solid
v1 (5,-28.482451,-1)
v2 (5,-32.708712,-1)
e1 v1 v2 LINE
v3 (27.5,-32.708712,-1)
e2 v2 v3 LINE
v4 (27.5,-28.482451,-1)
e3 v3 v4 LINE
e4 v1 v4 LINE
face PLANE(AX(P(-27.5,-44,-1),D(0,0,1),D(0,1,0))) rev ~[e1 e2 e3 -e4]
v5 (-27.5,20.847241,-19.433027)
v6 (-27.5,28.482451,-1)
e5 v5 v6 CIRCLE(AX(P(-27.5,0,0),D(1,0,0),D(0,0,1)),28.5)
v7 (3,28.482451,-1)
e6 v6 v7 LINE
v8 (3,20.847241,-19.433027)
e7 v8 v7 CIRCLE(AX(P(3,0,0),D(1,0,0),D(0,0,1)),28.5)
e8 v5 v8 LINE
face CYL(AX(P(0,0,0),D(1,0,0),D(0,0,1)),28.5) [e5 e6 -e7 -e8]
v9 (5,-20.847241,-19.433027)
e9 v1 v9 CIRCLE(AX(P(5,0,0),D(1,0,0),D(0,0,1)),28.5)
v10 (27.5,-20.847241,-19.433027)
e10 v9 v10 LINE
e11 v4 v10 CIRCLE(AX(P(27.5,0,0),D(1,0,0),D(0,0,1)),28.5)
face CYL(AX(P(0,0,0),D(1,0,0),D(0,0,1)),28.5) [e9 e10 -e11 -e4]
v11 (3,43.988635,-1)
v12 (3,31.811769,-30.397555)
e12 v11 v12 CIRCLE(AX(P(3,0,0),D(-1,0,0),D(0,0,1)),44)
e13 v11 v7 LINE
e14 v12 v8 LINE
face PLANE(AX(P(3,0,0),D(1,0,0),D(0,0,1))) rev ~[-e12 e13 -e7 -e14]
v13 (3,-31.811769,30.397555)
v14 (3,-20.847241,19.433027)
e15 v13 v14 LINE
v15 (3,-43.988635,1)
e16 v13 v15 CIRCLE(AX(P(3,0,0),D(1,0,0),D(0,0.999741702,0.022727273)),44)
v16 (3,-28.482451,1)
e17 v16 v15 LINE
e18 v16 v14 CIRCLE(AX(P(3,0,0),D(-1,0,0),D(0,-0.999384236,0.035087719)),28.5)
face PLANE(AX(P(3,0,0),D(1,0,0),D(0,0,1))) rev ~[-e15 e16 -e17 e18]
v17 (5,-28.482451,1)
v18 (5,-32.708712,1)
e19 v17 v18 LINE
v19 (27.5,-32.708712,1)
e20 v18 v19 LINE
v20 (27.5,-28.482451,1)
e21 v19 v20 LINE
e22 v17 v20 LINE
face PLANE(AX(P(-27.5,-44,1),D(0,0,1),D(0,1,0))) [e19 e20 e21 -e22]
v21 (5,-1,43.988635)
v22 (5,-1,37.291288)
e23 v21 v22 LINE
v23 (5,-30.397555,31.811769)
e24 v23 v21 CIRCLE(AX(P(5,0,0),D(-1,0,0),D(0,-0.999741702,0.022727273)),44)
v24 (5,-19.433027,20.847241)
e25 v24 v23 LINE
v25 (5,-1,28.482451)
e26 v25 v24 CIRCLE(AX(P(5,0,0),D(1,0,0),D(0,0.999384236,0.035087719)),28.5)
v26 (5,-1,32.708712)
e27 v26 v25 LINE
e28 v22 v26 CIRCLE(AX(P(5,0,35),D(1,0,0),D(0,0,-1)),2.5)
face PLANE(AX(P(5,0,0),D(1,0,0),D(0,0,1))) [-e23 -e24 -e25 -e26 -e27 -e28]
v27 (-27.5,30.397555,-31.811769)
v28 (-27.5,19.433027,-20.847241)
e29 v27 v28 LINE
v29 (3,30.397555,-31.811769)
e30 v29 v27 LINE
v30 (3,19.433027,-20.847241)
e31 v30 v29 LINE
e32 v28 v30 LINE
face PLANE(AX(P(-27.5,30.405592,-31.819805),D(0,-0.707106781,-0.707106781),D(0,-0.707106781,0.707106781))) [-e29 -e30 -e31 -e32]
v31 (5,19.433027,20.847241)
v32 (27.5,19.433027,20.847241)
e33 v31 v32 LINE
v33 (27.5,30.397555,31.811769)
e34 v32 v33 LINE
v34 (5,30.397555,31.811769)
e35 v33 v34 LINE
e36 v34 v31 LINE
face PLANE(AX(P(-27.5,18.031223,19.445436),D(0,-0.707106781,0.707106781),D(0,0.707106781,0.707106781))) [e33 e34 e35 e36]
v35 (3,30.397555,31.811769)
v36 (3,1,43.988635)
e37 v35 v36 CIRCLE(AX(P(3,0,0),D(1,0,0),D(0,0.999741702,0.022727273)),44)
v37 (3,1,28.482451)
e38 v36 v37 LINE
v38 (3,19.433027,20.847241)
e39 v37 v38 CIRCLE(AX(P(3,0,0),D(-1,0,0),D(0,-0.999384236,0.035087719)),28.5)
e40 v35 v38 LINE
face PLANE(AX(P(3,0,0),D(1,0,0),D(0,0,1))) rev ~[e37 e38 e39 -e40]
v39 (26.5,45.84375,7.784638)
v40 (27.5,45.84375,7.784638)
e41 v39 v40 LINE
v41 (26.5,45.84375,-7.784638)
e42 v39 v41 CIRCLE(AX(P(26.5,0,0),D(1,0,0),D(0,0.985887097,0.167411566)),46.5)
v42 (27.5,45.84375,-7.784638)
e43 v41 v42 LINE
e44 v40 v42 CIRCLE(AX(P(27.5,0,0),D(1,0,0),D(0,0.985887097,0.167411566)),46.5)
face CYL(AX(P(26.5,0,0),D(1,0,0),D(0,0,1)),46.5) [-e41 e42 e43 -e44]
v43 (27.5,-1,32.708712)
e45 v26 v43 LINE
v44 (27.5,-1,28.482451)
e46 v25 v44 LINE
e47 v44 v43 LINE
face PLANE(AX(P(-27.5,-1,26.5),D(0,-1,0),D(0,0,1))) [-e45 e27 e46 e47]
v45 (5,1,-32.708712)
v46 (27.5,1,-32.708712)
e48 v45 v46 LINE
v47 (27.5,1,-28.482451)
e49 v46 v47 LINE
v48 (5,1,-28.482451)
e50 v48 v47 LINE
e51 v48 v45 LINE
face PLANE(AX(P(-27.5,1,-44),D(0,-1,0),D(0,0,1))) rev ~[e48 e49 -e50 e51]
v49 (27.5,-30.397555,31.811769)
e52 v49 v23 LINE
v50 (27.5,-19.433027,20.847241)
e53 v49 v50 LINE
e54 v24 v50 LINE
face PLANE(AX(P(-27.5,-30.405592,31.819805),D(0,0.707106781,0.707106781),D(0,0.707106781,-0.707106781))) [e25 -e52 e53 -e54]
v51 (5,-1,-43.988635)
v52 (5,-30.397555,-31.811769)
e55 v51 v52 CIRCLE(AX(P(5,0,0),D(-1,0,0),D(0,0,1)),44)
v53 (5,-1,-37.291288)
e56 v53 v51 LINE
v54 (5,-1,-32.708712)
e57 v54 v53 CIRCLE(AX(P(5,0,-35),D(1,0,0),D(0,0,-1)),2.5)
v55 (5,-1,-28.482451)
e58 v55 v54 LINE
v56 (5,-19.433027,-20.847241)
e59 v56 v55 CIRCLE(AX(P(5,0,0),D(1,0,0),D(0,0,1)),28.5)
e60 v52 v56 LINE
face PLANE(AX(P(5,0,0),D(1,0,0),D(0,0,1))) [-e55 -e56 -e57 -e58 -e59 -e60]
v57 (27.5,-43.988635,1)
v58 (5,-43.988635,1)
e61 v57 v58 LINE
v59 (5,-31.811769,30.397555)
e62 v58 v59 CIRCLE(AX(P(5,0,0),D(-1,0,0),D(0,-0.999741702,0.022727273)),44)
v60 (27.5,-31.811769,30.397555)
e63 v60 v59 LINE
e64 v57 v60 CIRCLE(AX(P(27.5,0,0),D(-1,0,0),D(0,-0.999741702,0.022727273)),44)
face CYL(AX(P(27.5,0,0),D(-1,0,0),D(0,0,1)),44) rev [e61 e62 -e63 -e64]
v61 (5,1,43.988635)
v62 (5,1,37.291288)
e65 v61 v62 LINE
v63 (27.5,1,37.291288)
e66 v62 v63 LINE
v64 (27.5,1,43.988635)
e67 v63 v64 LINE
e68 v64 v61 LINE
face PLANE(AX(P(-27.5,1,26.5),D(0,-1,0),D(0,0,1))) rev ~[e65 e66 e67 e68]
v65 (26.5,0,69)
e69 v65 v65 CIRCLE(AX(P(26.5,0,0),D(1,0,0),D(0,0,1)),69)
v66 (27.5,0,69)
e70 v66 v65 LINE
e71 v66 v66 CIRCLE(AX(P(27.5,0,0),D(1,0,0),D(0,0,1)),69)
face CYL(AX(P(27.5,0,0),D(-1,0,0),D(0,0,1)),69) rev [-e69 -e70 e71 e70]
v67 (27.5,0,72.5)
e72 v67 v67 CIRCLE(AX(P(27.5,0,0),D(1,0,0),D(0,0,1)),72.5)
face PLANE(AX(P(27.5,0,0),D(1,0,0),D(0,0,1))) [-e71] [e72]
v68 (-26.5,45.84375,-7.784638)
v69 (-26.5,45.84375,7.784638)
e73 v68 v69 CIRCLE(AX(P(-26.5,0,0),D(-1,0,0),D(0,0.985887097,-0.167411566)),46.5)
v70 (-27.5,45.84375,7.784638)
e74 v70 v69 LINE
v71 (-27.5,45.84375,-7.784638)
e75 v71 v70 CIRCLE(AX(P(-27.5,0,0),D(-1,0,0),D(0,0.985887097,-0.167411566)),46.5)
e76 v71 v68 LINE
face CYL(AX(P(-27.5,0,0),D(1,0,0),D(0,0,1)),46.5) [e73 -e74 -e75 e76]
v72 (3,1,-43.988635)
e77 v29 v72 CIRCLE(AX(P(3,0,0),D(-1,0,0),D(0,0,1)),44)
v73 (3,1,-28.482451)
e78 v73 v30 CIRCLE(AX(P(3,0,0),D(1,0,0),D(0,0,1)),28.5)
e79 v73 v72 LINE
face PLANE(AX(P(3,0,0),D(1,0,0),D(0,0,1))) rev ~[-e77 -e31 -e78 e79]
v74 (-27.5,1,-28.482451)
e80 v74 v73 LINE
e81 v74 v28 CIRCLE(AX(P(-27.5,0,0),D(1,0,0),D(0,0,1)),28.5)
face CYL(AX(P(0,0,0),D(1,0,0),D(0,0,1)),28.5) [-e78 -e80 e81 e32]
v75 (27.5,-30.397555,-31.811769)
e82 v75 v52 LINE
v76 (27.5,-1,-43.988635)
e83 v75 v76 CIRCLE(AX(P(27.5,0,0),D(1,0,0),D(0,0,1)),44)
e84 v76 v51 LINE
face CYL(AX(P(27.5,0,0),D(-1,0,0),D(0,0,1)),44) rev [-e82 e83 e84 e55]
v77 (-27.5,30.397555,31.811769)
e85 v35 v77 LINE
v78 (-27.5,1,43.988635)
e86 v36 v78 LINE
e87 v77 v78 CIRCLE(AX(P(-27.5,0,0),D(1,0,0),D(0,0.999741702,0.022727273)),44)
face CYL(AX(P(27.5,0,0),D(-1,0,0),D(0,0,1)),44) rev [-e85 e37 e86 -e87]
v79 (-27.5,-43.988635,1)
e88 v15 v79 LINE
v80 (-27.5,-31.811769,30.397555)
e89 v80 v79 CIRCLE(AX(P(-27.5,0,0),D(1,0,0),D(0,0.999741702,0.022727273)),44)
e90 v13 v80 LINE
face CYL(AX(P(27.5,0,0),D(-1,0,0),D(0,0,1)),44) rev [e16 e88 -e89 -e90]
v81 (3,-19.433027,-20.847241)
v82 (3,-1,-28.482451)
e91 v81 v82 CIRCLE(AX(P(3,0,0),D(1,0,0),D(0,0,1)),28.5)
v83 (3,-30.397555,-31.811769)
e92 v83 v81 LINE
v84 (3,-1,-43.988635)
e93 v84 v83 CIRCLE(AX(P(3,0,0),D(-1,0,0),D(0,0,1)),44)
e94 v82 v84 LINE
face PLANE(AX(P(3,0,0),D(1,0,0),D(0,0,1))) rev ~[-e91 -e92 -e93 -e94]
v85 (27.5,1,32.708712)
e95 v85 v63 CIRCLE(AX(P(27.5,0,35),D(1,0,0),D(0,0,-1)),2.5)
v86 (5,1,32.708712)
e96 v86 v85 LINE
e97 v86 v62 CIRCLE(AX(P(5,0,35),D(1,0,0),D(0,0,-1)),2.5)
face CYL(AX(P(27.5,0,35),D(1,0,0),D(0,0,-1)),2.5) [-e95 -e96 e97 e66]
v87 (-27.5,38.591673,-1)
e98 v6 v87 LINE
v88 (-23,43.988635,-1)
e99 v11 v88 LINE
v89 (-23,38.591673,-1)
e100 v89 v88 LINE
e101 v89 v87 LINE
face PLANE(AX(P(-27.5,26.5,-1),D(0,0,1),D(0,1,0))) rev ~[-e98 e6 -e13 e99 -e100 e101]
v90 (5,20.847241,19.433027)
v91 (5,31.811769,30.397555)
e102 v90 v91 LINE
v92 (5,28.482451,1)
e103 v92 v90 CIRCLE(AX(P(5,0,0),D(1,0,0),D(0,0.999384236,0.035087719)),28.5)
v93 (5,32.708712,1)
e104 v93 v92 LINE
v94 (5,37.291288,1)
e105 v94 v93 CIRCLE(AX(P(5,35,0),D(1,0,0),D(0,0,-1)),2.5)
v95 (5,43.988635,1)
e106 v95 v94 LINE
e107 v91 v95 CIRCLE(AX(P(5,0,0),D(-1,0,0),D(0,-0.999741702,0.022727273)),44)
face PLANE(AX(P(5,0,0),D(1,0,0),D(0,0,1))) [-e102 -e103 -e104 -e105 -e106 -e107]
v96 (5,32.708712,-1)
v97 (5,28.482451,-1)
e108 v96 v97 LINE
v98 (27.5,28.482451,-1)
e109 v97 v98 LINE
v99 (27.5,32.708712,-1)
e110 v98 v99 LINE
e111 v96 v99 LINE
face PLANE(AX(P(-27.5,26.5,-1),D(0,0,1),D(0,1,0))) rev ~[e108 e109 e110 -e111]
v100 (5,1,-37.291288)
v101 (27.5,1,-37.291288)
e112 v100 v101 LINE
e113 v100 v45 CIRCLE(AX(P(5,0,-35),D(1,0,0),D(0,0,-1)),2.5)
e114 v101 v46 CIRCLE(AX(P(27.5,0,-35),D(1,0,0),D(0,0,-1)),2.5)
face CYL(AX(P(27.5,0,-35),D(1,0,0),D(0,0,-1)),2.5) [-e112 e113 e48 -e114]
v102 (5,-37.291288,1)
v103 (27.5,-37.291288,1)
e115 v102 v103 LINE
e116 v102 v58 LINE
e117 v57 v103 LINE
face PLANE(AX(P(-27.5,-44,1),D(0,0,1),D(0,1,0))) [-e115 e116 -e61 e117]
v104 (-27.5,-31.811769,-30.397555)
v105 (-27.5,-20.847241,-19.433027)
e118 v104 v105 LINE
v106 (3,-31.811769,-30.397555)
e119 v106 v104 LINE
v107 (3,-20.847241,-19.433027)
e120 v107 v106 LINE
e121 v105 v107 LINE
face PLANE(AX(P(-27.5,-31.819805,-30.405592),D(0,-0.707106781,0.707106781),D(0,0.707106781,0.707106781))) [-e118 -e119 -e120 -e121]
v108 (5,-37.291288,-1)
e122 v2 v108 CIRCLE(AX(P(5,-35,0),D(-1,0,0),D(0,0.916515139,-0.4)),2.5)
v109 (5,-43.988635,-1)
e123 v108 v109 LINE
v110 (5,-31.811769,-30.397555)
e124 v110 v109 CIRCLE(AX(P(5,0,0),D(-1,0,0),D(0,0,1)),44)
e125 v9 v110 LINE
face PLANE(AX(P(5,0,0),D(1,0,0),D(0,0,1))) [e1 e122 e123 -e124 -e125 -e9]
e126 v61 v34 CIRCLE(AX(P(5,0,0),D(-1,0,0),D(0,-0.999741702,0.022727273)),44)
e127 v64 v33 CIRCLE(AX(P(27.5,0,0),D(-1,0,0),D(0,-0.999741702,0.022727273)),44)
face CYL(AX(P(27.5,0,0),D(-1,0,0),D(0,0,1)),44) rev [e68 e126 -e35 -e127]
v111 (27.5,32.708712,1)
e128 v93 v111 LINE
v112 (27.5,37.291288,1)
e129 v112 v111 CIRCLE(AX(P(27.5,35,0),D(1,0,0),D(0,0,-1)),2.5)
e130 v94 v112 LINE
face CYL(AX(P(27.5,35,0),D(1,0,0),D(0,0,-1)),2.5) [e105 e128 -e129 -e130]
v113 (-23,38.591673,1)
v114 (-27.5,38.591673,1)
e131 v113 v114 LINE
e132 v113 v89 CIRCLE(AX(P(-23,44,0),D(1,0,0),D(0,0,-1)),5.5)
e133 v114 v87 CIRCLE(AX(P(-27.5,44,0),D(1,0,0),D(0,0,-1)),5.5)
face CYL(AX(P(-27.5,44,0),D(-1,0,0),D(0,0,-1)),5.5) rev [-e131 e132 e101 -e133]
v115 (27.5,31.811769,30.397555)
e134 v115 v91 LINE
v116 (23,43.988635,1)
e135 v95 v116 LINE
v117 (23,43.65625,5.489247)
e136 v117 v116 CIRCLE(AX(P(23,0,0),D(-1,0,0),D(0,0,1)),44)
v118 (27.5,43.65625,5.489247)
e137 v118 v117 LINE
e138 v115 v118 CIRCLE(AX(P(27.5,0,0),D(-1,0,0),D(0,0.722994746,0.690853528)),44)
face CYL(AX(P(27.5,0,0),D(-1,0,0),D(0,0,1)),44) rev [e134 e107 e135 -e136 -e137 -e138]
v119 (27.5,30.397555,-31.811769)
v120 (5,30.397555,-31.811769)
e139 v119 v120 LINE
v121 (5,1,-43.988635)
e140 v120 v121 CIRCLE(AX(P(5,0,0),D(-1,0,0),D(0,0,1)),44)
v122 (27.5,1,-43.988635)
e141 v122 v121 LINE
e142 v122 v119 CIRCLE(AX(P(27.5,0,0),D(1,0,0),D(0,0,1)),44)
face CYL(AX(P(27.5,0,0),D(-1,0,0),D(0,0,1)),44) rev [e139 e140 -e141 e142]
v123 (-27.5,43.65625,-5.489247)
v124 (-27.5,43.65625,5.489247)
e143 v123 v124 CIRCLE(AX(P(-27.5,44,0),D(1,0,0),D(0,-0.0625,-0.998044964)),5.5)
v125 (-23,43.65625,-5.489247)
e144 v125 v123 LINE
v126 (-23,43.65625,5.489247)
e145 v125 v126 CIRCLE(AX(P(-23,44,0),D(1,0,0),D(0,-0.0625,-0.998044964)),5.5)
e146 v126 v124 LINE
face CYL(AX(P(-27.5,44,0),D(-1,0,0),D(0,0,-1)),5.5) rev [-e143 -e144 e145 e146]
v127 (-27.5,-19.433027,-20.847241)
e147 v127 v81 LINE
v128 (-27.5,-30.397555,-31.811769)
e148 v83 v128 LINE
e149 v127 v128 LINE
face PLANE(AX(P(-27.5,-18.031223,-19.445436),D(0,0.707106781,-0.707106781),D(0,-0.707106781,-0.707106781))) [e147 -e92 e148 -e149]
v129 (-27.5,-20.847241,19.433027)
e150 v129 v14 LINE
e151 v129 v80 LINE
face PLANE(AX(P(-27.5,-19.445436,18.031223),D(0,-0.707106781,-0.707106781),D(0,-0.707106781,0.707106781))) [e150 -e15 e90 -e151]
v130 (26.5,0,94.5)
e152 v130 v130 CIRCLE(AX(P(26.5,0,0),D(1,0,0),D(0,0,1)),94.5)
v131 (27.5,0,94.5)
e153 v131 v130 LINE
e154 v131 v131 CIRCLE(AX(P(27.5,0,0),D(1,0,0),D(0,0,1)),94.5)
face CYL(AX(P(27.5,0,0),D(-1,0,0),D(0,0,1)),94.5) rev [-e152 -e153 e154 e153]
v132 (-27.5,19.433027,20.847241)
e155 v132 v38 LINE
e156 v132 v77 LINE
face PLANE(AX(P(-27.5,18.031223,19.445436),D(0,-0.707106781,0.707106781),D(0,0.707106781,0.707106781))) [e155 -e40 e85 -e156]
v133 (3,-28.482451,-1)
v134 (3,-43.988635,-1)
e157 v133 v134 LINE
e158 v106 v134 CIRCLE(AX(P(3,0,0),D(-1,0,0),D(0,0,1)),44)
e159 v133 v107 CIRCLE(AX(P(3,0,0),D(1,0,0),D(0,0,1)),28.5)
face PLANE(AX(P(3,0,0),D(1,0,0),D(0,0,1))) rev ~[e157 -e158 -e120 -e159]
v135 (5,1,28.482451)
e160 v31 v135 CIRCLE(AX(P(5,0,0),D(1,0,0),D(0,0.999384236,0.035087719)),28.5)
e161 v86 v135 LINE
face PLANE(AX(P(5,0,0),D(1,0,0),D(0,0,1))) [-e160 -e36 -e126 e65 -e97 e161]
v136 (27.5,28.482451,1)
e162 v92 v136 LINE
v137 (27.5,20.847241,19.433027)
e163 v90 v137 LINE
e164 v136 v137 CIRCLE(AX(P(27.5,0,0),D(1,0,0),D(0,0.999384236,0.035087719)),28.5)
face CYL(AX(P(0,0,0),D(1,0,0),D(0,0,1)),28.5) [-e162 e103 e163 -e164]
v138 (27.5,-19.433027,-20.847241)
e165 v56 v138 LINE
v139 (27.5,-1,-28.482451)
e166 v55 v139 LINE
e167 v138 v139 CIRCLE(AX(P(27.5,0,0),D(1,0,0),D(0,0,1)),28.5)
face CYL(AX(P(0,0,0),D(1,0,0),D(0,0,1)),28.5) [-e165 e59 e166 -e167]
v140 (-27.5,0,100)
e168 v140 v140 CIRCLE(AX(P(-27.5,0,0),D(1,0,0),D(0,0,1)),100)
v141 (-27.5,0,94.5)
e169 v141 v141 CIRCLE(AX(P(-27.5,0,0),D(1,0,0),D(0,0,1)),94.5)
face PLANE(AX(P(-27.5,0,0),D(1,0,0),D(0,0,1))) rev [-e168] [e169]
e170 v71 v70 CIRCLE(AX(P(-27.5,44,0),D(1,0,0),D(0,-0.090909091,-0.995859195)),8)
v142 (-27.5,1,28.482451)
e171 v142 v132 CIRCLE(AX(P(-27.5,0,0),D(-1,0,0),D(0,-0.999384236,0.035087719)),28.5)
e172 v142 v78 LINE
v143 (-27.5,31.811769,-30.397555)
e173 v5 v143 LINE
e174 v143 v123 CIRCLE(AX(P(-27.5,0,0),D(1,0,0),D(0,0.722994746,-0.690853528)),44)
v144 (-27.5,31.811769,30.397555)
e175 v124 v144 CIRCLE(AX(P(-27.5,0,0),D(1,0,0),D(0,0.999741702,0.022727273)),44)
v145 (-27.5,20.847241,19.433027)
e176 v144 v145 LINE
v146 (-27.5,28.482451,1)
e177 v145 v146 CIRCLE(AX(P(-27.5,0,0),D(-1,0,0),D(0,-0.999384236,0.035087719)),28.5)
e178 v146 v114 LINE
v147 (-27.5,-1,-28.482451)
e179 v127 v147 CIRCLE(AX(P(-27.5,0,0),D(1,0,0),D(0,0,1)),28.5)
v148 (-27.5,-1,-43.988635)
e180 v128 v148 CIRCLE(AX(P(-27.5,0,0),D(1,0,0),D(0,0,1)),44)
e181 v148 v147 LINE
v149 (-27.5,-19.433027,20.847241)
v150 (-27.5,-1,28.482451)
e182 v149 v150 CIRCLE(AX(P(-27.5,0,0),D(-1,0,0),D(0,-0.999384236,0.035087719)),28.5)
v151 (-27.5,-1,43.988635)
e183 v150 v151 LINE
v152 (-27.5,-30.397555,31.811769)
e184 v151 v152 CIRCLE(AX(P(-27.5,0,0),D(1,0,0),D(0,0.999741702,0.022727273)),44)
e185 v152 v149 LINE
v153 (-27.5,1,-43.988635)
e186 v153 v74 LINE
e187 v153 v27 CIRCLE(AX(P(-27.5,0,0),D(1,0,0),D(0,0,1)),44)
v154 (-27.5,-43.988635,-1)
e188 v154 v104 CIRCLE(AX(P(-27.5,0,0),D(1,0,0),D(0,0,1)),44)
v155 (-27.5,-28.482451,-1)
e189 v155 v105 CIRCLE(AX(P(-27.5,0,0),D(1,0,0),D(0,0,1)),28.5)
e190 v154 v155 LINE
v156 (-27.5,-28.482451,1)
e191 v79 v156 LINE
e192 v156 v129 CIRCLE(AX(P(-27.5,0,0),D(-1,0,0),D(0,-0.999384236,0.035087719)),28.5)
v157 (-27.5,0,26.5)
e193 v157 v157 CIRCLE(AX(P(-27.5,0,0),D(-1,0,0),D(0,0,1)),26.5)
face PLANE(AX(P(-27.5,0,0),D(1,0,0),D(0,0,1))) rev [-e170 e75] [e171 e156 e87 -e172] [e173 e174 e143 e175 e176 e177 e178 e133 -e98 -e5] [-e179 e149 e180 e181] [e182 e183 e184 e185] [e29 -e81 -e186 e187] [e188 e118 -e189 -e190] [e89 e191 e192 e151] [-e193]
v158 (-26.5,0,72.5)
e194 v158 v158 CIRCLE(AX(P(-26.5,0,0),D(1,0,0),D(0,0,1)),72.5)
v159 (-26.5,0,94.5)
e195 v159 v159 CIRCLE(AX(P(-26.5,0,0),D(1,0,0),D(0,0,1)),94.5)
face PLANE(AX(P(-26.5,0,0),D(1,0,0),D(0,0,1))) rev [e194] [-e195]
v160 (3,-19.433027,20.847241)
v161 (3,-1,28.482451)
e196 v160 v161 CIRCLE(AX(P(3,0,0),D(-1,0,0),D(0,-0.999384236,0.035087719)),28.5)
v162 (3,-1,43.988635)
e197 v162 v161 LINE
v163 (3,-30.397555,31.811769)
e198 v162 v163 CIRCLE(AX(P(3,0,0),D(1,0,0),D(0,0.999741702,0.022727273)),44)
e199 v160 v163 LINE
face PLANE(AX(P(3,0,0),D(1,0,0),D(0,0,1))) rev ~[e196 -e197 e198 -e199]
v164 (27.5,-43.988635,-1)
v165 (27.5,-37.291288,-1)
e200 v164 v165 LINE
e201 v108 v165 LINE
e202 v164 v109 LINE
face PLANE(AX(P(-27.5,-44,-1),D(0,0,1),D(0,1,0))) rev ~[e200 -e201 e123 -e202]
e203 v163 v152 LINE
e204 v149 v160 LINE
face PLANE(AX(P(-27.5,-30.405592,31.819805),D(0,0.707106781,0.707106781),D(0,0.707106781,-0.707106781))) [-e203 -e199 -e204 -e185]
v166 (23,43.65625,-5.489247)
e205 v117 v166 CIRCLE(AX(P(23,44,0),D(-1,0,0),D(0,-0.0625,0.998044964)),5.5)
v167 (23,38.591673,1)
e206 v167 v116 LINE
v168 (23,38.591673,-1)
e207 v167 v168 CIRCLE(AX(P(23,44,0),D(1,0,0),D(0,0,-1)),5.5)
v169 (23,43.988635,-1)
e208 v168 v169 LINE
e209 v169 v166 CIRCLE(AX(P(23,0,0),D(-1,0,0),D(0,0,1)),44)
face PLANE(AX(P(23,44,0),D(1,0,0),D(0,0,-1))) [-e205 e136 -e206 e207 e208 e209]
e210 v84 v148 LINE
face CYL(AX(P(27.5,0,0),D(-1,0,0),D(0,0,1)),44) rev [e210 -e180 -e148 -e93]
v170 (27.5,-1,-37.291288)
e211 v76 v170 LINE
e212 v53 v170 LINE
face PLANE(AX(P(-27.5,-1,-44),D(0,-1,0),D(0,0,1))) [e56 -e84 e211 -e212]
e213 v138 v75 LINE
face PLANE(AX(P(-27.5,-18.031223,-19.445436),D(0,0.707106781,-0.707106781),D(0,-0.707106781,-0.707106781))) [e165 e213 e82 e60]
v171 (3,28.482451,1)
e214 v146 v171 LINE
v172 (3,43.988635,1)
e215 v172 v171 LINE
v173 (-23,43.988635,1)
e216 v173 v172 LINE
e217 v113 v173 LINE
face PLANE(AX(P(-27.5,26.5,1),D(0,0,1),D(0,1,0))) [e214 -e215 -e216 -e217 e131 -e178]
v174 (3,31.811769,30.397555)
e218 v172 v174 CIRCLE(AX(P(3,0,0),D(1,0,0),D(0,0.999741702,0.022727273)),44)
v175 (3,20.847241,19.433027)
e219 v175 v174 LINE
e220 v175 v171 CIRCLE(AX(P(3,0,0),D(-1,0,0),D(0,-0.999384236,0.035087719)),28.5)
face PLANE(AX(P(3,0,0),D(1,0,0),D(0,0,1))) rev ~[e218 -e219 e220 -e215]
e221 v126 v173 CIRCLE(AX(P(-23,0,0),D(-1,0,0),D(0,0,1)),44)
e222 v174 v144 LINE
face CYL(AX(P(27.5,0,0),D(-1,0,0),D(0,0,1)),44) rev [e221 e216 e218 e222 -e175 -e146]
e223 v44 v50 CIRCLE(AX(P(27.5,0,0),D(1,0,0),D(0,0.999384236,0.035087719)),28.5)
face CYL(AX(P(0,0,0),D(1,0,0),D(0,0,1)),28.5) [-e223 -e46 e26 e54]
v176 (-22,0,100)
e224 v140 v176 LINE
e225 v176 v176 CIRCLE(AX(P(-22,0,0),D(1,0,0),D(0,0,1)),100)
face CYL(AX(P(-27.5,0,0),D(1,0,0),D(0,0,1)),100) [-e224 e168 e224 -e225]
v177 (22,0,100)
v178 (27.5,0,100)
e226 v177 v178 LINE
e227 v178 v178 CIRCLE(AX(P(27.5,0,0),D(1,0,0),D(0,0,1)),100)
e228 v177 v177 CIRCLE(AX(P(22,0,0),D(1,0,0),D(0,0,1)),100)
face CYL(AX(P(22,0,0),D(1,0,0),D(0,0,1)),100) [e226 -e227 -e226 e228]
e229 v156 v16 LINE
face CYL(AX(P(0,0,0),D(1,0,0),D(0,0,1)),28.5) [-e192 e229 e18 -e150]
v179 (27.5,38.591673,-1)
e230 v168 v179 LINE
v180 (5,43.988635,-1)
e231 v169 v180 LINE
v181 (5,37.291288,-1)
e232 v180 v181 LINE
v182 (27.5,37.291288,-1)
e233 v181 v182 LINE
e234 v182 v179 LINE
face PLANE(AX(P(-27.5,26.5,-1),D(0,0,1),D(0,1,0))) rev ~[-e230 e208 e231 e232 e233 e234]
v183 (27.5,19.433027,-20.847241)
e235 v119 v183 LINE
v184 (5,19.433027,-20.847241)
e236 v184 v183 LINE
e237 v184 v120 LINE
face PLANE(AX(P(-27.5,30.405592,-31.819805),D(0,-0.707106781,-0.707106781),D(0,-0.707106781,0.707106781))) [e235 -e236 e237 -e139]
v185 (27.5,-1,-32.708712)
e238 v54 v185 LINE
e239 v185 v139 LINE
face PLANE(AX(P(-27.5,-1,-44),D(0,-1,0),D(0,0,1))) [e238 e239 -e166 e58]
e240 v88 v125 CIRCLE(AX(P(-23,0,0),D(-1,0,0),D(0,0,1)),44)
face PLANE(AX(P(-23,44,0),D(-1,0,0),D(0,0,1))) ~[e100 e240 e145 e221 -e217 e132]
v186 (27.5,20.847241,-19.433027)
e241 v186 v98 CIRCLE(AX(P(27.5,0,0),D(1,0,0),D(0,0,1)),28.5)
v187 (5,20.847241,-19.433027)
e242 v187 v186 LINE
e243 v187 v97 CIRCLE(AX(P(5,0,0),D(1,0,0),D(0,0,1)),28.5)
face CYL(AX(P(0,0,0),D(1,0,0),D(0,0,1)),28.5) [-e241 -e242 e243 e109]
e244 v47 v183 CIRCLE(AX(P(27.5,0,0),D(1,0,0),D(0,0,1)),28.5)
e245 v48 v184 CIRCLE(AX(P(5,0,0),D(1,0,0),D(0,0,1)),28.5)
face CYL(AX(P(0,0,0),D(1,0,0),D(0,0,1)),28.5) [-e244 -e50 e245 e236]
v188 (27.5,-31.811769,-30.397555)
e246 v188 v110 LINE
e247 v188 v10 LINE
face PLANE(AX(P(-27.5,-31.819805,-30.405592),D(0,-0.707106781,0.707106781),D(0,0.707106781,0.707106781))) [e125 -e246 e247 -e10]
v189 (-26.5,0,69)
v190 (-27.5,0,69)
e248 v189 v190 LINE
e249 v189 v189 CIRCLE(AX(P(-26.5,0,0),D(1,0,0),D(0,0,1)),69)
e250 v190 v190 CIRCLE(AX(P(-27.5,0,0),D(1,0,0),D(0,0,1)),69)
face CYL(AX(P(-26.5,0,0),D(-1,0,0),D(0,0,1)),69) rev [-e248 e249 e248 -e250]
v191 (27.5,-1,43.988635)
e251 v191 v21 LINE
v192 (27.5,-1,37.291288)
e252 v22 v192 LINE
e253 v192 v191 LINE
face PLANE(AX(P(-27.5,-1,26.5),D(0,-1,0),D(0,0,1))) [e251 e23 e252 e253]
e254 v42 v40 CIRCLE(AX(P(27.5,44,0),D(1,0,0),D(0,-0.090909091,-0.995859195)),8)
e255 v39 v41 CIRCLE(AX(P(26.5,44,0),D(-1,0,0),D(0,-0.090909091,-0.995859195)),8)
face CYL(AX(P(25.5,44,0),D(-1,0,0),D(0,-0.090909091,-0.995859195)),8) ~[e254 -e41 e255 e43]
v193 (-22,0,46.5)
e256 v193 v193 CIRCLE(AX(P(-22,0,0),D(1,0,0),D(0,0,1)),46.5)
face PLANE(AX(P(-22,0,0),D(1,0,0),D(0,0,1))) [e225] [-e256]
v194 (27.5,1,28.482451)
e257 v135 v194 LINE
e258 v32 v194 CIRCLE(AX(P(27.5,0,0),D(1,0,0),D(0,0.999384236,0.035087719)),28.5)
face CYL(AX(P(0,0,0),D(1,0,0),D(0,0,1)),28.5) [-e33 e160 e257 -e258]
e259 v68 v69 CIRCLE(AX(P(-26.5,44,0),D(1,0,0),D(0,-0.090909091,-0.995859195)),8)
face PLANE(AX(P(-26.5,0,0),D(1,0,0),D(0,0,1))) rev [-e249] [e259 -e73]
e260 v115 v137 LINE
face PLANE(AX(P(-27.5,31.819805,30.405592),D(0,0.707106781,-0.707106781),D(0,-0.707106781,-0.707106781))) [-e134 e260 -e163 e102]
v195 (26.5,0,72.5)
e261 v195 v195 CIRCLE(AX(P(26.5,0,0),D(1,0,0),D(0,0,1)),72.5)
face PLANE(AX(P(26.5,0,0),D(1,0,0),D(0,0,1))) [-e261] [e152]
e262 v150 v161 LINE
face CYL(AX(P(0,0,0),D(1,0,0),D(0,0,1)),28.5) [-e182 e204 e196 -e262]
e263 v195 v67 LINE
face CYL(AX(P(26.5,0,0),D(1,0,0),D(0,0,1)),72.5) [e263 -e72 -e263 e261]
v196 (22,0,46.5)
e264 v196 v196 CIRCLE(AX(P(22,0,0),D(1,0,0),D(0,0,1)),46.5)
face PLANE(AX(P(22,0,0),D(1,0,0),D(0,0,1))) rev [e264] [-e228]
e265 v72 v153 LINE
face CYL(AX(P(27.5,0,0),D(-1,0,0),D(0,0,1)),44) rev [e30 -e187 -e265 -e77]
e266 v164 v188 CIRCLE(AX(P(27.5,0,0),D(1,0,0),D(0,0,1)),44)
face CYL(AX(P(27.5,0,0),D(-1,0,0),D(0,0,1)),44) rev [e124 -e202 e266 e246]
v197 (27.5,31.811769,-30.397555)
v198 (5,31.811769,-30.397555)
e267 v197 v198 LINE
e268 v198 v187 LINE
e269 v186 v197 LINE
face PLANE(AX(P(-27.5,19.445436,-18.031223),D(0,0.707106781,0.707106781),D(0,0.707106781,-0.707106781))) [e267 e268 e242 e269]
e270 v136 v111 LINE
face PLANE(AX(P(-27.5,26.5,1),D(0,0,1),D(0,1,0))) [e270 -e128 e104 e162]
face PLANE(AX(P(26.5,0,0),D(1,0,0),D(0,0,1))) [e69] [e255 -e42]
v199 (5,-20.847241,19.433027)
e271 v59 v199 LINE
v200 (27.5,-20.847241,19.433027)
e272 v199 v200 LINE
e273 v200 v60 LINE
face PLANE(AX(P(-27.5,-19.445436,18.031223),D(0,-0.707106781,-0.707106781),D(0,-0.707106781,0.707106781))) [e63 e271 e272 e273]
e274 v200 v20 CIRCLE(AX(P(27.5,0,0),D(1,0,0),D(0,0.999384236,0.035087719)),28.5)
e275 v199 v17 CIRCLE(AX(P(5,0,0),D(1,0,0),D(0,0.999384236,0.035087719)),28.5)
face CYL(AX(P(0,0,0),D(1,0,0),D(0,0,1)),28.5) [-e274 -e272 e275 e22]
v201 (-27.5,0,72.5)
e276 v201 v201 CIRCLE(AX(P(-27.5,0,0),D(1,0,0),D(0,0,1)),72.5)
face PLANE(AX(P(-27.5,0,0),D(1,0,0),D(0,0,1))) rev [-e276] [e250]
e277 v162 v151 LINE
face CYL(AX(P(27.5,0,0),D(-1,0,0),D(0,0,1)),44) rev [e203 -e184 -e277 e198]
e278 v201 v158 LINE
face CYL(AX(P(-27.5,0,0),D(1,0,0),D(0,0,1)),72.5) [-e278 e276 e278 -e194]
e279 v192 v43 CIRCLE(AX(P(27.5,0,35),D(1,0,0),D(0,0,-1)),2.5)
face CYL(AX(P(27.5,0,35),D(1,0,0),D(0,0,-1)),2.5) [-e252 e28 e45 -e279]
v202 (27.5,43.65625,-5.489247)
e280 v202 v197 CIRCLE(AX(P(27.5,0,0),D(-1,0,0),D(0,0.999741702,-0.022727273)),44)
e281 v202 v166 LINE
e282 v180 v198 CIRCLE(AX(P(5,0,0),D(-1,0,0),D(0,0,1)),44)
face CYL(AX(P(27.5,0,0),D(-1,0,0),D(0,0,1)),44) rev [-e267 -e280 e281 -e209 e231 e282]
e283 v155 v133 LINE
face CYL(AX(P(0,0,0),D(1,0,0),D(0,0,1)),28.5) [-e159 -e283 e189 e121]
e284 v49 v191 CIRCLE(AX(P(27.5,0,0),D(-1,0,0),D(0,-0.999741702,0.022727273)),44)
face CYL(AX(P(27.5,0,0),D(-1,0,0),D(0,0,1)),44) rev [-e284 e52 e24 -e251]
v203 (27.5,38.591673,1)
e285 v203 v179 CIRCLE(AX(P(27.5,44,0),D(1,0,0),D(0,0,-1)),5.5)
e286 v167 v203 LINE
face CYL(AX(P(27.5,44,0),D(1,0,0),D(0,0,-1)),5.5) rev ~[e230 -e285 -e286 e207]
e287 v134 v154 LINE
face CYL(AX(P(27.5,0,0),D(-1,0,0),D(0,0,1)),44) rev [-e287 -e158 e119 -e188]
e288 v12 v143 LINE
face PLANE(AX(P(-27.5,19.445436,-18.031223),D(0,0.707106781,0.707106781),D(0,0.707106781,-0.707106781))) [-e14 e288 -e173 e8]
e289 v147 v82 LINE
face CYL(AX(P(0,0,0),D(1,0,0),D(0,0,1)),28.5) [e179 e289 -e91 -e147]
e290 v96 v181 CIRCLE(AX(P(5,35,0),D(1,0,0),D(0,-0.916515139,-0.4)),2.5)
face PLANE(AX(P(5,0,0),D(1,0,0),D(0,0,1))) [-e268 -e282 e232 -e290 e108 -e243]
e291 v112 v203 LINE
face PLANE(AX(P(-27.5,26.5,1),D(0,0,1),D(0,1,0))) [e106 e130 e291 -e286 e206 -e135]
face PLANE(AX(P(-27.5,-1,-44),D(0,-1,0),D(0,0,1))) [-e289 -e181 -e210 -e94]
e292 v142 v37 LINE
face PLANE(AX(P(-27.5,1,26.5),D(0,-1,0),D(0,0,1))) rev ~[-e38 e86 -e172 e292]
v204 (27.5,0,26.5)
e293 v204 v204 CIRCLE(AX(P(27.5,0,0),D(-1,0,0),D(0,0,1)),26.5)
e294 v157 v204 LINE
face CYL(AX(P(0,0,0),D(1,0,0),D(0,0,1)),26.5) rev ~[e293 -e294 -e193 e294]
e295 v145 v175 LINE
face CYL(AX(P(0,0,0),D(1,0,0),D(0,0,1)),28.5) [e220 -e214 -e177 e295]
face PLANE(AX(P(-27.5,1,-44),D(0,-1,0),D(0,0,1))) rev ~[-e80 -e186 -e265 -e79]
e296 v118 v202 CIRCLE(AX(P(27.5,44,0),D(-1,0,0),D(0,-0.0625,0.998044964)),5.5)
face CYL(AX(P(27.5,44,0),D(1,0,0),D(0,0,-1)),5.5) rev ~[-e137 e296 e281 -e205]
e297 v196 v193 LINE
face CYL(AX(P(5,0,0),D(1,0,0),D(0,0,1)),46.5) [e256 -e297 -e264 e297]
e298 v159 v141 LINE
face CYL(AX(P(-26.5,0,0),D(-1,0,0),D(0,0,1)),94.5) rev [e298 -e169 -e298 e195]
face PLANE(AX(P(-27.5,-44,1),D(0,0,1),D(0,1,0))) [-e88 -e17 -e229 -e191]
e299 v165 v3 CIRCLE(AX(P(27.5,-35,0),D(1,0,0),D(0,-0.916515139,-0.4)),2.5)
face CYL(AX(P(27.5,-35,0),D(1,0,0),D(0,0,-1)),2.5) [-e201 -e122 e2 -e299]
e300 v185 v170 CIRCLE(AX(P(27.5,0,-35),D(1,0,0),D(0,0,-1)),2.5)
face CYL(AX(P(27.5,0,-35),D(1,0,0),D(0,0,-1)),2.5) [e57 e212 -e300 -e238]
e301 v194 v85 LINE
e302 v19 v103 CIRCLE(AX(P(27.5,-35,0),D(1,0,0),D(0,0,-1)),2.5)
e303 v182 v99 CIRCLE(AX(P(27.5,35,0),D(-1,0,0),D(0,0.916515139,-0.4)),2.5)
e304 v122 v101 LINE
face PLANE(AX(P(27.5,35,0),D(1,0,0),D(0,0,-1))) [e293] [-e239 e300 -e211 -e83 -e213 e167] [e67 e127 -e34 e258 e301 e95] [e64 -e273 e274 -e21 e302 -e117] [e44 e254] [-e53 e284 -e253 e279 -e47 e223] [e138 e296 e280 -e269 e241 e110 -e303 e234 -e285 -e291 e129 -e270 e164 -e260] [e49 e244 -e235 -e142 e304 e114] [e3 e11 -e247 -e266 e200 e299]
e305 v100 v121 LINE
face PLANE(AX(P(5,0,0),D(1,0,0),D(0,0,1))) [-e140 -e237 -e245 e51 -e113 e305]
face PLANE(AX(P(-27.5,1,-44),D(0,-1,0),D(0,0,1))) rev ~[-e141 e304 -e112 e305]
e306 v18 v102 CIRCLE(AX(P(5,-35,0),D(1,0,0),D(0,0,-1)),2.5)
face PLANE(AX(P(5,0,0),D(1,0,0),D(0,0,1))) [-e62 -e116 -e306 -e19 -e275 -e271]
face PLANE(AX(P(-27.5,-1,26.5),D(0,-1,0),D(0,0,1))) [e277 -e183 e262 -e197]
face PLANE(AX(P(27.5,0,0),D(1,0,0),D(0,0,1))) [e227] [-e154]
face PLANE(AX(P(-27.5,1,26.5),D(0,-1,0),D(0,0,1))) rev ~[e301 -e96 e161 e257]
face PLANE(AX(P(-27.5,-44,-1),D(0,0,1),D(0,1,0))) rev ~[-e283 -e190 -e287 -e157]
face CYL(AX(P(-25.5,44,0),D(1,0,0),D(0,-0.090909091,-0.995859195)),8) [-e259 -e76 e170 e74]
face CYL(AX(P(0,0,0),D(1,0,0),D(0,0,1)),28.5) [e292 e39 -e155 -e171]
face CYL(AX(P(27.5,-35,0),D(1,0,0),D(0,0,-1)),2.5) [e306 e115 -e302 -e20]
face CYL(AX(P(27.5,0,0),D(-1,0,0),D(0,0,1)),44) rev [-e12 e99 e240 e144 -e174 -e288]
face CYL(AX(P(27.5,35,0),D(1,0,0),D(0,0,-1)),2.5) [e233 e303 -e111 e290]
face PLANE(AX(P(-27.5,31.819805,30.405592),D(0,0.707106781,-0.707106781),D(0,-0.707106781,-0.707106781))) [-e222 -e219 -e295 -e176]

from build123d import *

# Parameters (mm, degrees)
SKETCH1_W           = 55
SKETCH1_H           = 2
BOSS_EXTRUDE1_START = 5
SKETCH2_R           = 46.5
SKETCH2_R_2         = 26.5
BOSS_EXTRUDE1_DEPTH = 2
EXTRUDE_THIN1_REACH = 153.74
SKETCH3_W           = 2
SKETCH3_H           = 17.5
SKETCH3_W_2         = 17.5
SKETCH3_H_2         = 2
SKETCH4_R           = 2.5
BOSS_EXTRUDE2_DEPTH = 22.5
BOSS_EXTRUDE3_START = -2
BOSS_EXTRUDE3_DEPTH = 2
SKETCH6_R           = 5.5
CUT_EXTRUDE1_DEPTH  = 4.5


with BuildPart() as part:
    # Sketch1 → Revolve1 (revolve)
    with BuildSketch(Plane.XY, mode=Mode.PRIVATE) as revolve1_sk:
        with Locations((0, 27.5)):
            Rectangle(SKETCH1_W, SKETCH1_H)
        Polygon((-22, 100), (-22, 46.5), (22, 46.5), (22, 100), (27.5, 100), (27.5, 94.5), (26.5, 94.5), (26.5, 72.5), (27.5, 72.5), (27.5, 69), (26.5, 69), (26.5, 46.5), (27.5, 46.5), (27.5, 44), (-27.5, 44), (-27.5, 46.5), (-26.5, 46.5), (-26.5, 69), (-27.5, 69), (-27.5, 72.5), (-26.5, 72.5), (-26.5, 94.5), (-27.5, 94.5), (-27.5, 100), align=None)
    revolve(revolve1_sk.sketch.rotate(Axis((0, 0, 0), (1, 0, 0)), 90), axis=Axis((0, 0, 0), (1, 0, 0)))

    # Sketch2 → Boss-Extrude1 (add)
    with BuildSketch(Plane(origin=(0, 0, 0), x_dir=(0, 0, -1), z_dir=(1, 0, 0)).offset(BOSS_EXTRUDE1_START)):
        with Locations(Location((0, 0, 0), (0, 0, 180))):
            Circle(SKETCH2_R)
        with Locations(Location((0, 0, 0), (0, 0, 180))):
            Circle(SKETCH2_R_2, mode=Mode.SUBTRACT)
    extrude(amount=-BOSS_EXTRUDE1_DEPTH)

    # Extrude-Thin1: up to this face of the body (flat: up to its plane)
    extrude_thin1_end = Plane(part.part.faces().sort_by_distance((27.5, 0, -45.184781387))[0])
    # Sketch3 → Extrude-Thin1 (add, up to the picked face)
    with BuildSketch(Plane.ZY.offset(27.5), mode=Mode.PRIVATE) as extrude_thin1_sk1:
        with Locations((0, 35.25)):
            Rectangle(SKETCH3_W, SKETCH3_H)
    extrude_thin1_tool1 = split(extrude(extrude_thin1_sk1.sketch, amount=-EXTRUDE_THIN1_REACH, mode=Mode.PRIVATE), bisect_by=extrude_thin1_end, keep=Keep.BOTH, mode=Mode.PRIVATE)
    # Sketch3 → Extrude-Thin1 (add, up to the picked face)
    with BuildSketch(Plane.ZY.offset(27.5), mode=Mode.PRIVATE) as extrude_thin1_sk2:
        with Locations((0, -35.25)):
            Rectangle(SKETCH3_W, SKETCH3_H)
    extrude_thin1_tool2 = split(extrude(extrude_thin1_sk2.sketch, amount=-EXTRUDE_THIN1_REACH, mode=Mode.PRIVATE), bisect_by=extrude_thin1_end, keep=Keep.BOTH, mode=Mode.PRIVATE)
    # Sketch3 → Extrude-Thin1 (add, up to the picked face)
    with BuildSketch(Plane.ZY.offset(27.5), mode=Mode.PRIVATE) as extrude_thin1_sk3:
        with Locations((35.25, 0)):
            Rectangle(SKETCH3_W_2, SKETCH3_H_2)
    extrude_thin1_tool3 = split(extrude(extrude_thin1_sk3.sketch, amount=-EXTRUDE_THIN1_REACH, mode=Mode.PRIVATE), bisect_by=extrude_thin1_end, keep=Keep.BOTH, mode=Mode.PRIVATE)
    # Sketch3 → Extrude-Thin1 (add, up to the picked face)
    with BuildSketch(Plane.ZY.offset(27.5), mode=Mode.PRIVATE) as extrude_thin1_sk4:
        with Locations((-35.25, 0)):
            Rectangle(SKETCH3_W_2, SKETCH3_H_2)
    extrude_thin1_tool4 = split(extrude(extrude_thin1_sk4.sketch, amount=-EXTRUDE_THIN1_REACH, mode=Mode.PRIVATE), bisect_by=extrude_thin1_end, keep=Keep.BOTH, mode=Mode.PRIVATE)
    # Sketch3 → Extrude-Thin1 (add, up to the picked face)
    with BuildSketch(Plane.ZY.offset(27.5), mode=Mode.PRIVATE) as extrude_thin1_sk5:
        Polygon((-18.03122292, 19.445436483), (-30.405591591, 31.819805153), (-31.819805153, 30.405591591), (-19.445436483, 18.03122292), align=None)
    extrude_thin1_tool5 = split(extrude(extrude_thin1_sk5.sketch, amount=-EXTRUDE_THIN1_REACH, mode=Mode.PRIVATE), bisect_by=extrude_thin1_end, keep=Keep.BOTH, mode=Mode.PRIVATE)
    # Sketch3 → Extrude-Thin1 (add, up to the picked face)
    with BuildSketch(Plane.ZY.offset(27.5), mode=Mode.PRIVATE) as extrude_thin1_sk6:
        Polygon((18.03122292, -19.445436483), (30.405591591, -31.819805153), (31.819805153, -30.405591591), (19.445436483, -18.03122292), align=None)
    extrude_thin1_tool6 = split(extrude(extrude_thin1_sk6.sketch, amount=-EXTRUDE_THIN1_REACH, mode=Mode.PRIVATE), bisect_by=extrude_thin1_end, keep=Keep.BOTH, mode=Mode.PRIVATE)
    # Sketch3 → Extrude-Thin1 (add, up to the picked face)
    with BuildSketch(Plane.ZY.offset(27.5), mode=Mode.PRIVATE) as extrude_thin1_sk7:
        Polygon((19.445436483, 18.03122292), (31.819805153, 30.405591591), (30.405591591, 31.819805153), (18.03122292, 19.445436483), align=None)
    extrude_thin1_tool7 = split(extrude(extrude_thin1_sk7.sketch, amount=-EXTRUDE_THIN1_REACH, mode=Mode.PRIVATE), bisect_by=extrude_thin1_end, keep=Keep.BOTH, mode=Mode.PRIVATE)
    # Sketch3 → Extrude-Thin1 (add, up to the picked face)
    with BuildSketch(Plane.ZY.offset(27.5), mode=Mode.PRIVATE) as extrude_thin1_sk8:
        Polygon((-19.445436483, -18.03122292), (-31.819805153, -30.405591591), (-30.405591591, -31.819805153), (-18.03122292, -19.445436483), align=None)
    extrude_thin1_tool8 = split(extrude(extrude_thin1_sk8.sketch, amount=-EXTRUDE_THIN1_REACH, mode=Mode.PRIVATE), bisect_by=extrude_thin1_end, keep=Keep.BOTH, mode=Mode.PRIVATE)
    add(extrude_thin1_tool1.solids().sort_by(Axis((-27.5, 35.25, 0), (1, 0, 0)))[0])
    add(extrude_thin1_tool2.solids().sort_by(Axis((-27.5, -35.25, 0), (1, 0, 0)))[0])
    add(extrude_thin1_tool3.solids().sort_by(Axis((-27.5, 0, 35.25), (1, 0, 0)))[0])
    add(extrude_thin1_tool4.solids().sort_by(Axis((-27.5, 0, -35.25), (1, 0, 0)))[0])
    add(extrude_thin1_tool5.solids().sort_by(Axis((-27.5, 24.925514, -24.925514), (1, 0, 0)))[0])
    add(extrude_thin1_tool6.solids().sort_by(Axis((-27.5, -24.925514, 24.925514), (1, 0, 0)))[0])
    add(extrude_thin1_tool7.solids().sort_by(Axis((-27.5, 24.925514, 24.925514), (1, 0, 0)))[0])
    add(extrude_thin1_tool8.solids().sort_by(Axis((-27.5, -24.925514, -24.925514), (1, 0, 0)))[0])

    # Sketch4 → Boss-Extrude2 (add)
    with BuildSketch(Plane(origin=(27.5, 0, 0), x_dir=(0, 0, -1), z_dir=(1, 0, 0))):
        with Locations((0, 35)):
            Circle(SKETCH4_R)
        with Locations((35, 0)):
            Circle(SKETCH4_R)
        with Locations((0, -35)):
            Circle(SKETCH4_R)
        with Locations((-35, 0)):
            Circle(SKETCH4_R)
    extrude(amount=-BOSS_EXTRUDE2_DEPTH)

    # Sketch5 → Boss-Extrude3 (add)
    with BuildSketch(Plane(origin=(27.5, 0, 0), x_dir=(0, 0, -1), z_dir=(1, 0, 0)).offset(BOSS_EXTRUDE3_START)):
        with BuildLine():
            ThreePointArc((7.966873564, 43.272727273), (0, 52), (-7.966873564, 43.272727273))
            ThreePointArc((-7.966873564, 43.272727273), (0, 44), (7.966873564, 43.272727273))
        make_face()
    boss_extrude3 = extrude(amount=BOSS_EXTRUDE3_DEPTH)

    # Sketch6 → Cut-Extrude1 (cut)
    with BuildSketch(Plane(origin=(27.5, 0, 0), x_dir=(0, 0, -1), z_dir=(1, 0, 0))):
        with Locations((0, 44)):
            Circle(SKETCH6_R)
    cut_extrude1 = extrude(amount=-CUT_EXTRUDE1_DEPTH, mode=Mode.SUBTRACT)

    # Mirror1: Boss-Extrude3, Cut-Extrude1 across plane
    add(boss_extrude3.mirror(Plane(origin=(0, 0, 0), x_dir=(0, 0, 1), z_dir=(1, 0, 0))))
    add(cut_extrude1.mirror(Plane(origin=(0, 0, 0), x_dir=(0, 0, 1), z_dir=(1, 0, 0))), mode=Mode.SUBTRACT)


solid = part.part
